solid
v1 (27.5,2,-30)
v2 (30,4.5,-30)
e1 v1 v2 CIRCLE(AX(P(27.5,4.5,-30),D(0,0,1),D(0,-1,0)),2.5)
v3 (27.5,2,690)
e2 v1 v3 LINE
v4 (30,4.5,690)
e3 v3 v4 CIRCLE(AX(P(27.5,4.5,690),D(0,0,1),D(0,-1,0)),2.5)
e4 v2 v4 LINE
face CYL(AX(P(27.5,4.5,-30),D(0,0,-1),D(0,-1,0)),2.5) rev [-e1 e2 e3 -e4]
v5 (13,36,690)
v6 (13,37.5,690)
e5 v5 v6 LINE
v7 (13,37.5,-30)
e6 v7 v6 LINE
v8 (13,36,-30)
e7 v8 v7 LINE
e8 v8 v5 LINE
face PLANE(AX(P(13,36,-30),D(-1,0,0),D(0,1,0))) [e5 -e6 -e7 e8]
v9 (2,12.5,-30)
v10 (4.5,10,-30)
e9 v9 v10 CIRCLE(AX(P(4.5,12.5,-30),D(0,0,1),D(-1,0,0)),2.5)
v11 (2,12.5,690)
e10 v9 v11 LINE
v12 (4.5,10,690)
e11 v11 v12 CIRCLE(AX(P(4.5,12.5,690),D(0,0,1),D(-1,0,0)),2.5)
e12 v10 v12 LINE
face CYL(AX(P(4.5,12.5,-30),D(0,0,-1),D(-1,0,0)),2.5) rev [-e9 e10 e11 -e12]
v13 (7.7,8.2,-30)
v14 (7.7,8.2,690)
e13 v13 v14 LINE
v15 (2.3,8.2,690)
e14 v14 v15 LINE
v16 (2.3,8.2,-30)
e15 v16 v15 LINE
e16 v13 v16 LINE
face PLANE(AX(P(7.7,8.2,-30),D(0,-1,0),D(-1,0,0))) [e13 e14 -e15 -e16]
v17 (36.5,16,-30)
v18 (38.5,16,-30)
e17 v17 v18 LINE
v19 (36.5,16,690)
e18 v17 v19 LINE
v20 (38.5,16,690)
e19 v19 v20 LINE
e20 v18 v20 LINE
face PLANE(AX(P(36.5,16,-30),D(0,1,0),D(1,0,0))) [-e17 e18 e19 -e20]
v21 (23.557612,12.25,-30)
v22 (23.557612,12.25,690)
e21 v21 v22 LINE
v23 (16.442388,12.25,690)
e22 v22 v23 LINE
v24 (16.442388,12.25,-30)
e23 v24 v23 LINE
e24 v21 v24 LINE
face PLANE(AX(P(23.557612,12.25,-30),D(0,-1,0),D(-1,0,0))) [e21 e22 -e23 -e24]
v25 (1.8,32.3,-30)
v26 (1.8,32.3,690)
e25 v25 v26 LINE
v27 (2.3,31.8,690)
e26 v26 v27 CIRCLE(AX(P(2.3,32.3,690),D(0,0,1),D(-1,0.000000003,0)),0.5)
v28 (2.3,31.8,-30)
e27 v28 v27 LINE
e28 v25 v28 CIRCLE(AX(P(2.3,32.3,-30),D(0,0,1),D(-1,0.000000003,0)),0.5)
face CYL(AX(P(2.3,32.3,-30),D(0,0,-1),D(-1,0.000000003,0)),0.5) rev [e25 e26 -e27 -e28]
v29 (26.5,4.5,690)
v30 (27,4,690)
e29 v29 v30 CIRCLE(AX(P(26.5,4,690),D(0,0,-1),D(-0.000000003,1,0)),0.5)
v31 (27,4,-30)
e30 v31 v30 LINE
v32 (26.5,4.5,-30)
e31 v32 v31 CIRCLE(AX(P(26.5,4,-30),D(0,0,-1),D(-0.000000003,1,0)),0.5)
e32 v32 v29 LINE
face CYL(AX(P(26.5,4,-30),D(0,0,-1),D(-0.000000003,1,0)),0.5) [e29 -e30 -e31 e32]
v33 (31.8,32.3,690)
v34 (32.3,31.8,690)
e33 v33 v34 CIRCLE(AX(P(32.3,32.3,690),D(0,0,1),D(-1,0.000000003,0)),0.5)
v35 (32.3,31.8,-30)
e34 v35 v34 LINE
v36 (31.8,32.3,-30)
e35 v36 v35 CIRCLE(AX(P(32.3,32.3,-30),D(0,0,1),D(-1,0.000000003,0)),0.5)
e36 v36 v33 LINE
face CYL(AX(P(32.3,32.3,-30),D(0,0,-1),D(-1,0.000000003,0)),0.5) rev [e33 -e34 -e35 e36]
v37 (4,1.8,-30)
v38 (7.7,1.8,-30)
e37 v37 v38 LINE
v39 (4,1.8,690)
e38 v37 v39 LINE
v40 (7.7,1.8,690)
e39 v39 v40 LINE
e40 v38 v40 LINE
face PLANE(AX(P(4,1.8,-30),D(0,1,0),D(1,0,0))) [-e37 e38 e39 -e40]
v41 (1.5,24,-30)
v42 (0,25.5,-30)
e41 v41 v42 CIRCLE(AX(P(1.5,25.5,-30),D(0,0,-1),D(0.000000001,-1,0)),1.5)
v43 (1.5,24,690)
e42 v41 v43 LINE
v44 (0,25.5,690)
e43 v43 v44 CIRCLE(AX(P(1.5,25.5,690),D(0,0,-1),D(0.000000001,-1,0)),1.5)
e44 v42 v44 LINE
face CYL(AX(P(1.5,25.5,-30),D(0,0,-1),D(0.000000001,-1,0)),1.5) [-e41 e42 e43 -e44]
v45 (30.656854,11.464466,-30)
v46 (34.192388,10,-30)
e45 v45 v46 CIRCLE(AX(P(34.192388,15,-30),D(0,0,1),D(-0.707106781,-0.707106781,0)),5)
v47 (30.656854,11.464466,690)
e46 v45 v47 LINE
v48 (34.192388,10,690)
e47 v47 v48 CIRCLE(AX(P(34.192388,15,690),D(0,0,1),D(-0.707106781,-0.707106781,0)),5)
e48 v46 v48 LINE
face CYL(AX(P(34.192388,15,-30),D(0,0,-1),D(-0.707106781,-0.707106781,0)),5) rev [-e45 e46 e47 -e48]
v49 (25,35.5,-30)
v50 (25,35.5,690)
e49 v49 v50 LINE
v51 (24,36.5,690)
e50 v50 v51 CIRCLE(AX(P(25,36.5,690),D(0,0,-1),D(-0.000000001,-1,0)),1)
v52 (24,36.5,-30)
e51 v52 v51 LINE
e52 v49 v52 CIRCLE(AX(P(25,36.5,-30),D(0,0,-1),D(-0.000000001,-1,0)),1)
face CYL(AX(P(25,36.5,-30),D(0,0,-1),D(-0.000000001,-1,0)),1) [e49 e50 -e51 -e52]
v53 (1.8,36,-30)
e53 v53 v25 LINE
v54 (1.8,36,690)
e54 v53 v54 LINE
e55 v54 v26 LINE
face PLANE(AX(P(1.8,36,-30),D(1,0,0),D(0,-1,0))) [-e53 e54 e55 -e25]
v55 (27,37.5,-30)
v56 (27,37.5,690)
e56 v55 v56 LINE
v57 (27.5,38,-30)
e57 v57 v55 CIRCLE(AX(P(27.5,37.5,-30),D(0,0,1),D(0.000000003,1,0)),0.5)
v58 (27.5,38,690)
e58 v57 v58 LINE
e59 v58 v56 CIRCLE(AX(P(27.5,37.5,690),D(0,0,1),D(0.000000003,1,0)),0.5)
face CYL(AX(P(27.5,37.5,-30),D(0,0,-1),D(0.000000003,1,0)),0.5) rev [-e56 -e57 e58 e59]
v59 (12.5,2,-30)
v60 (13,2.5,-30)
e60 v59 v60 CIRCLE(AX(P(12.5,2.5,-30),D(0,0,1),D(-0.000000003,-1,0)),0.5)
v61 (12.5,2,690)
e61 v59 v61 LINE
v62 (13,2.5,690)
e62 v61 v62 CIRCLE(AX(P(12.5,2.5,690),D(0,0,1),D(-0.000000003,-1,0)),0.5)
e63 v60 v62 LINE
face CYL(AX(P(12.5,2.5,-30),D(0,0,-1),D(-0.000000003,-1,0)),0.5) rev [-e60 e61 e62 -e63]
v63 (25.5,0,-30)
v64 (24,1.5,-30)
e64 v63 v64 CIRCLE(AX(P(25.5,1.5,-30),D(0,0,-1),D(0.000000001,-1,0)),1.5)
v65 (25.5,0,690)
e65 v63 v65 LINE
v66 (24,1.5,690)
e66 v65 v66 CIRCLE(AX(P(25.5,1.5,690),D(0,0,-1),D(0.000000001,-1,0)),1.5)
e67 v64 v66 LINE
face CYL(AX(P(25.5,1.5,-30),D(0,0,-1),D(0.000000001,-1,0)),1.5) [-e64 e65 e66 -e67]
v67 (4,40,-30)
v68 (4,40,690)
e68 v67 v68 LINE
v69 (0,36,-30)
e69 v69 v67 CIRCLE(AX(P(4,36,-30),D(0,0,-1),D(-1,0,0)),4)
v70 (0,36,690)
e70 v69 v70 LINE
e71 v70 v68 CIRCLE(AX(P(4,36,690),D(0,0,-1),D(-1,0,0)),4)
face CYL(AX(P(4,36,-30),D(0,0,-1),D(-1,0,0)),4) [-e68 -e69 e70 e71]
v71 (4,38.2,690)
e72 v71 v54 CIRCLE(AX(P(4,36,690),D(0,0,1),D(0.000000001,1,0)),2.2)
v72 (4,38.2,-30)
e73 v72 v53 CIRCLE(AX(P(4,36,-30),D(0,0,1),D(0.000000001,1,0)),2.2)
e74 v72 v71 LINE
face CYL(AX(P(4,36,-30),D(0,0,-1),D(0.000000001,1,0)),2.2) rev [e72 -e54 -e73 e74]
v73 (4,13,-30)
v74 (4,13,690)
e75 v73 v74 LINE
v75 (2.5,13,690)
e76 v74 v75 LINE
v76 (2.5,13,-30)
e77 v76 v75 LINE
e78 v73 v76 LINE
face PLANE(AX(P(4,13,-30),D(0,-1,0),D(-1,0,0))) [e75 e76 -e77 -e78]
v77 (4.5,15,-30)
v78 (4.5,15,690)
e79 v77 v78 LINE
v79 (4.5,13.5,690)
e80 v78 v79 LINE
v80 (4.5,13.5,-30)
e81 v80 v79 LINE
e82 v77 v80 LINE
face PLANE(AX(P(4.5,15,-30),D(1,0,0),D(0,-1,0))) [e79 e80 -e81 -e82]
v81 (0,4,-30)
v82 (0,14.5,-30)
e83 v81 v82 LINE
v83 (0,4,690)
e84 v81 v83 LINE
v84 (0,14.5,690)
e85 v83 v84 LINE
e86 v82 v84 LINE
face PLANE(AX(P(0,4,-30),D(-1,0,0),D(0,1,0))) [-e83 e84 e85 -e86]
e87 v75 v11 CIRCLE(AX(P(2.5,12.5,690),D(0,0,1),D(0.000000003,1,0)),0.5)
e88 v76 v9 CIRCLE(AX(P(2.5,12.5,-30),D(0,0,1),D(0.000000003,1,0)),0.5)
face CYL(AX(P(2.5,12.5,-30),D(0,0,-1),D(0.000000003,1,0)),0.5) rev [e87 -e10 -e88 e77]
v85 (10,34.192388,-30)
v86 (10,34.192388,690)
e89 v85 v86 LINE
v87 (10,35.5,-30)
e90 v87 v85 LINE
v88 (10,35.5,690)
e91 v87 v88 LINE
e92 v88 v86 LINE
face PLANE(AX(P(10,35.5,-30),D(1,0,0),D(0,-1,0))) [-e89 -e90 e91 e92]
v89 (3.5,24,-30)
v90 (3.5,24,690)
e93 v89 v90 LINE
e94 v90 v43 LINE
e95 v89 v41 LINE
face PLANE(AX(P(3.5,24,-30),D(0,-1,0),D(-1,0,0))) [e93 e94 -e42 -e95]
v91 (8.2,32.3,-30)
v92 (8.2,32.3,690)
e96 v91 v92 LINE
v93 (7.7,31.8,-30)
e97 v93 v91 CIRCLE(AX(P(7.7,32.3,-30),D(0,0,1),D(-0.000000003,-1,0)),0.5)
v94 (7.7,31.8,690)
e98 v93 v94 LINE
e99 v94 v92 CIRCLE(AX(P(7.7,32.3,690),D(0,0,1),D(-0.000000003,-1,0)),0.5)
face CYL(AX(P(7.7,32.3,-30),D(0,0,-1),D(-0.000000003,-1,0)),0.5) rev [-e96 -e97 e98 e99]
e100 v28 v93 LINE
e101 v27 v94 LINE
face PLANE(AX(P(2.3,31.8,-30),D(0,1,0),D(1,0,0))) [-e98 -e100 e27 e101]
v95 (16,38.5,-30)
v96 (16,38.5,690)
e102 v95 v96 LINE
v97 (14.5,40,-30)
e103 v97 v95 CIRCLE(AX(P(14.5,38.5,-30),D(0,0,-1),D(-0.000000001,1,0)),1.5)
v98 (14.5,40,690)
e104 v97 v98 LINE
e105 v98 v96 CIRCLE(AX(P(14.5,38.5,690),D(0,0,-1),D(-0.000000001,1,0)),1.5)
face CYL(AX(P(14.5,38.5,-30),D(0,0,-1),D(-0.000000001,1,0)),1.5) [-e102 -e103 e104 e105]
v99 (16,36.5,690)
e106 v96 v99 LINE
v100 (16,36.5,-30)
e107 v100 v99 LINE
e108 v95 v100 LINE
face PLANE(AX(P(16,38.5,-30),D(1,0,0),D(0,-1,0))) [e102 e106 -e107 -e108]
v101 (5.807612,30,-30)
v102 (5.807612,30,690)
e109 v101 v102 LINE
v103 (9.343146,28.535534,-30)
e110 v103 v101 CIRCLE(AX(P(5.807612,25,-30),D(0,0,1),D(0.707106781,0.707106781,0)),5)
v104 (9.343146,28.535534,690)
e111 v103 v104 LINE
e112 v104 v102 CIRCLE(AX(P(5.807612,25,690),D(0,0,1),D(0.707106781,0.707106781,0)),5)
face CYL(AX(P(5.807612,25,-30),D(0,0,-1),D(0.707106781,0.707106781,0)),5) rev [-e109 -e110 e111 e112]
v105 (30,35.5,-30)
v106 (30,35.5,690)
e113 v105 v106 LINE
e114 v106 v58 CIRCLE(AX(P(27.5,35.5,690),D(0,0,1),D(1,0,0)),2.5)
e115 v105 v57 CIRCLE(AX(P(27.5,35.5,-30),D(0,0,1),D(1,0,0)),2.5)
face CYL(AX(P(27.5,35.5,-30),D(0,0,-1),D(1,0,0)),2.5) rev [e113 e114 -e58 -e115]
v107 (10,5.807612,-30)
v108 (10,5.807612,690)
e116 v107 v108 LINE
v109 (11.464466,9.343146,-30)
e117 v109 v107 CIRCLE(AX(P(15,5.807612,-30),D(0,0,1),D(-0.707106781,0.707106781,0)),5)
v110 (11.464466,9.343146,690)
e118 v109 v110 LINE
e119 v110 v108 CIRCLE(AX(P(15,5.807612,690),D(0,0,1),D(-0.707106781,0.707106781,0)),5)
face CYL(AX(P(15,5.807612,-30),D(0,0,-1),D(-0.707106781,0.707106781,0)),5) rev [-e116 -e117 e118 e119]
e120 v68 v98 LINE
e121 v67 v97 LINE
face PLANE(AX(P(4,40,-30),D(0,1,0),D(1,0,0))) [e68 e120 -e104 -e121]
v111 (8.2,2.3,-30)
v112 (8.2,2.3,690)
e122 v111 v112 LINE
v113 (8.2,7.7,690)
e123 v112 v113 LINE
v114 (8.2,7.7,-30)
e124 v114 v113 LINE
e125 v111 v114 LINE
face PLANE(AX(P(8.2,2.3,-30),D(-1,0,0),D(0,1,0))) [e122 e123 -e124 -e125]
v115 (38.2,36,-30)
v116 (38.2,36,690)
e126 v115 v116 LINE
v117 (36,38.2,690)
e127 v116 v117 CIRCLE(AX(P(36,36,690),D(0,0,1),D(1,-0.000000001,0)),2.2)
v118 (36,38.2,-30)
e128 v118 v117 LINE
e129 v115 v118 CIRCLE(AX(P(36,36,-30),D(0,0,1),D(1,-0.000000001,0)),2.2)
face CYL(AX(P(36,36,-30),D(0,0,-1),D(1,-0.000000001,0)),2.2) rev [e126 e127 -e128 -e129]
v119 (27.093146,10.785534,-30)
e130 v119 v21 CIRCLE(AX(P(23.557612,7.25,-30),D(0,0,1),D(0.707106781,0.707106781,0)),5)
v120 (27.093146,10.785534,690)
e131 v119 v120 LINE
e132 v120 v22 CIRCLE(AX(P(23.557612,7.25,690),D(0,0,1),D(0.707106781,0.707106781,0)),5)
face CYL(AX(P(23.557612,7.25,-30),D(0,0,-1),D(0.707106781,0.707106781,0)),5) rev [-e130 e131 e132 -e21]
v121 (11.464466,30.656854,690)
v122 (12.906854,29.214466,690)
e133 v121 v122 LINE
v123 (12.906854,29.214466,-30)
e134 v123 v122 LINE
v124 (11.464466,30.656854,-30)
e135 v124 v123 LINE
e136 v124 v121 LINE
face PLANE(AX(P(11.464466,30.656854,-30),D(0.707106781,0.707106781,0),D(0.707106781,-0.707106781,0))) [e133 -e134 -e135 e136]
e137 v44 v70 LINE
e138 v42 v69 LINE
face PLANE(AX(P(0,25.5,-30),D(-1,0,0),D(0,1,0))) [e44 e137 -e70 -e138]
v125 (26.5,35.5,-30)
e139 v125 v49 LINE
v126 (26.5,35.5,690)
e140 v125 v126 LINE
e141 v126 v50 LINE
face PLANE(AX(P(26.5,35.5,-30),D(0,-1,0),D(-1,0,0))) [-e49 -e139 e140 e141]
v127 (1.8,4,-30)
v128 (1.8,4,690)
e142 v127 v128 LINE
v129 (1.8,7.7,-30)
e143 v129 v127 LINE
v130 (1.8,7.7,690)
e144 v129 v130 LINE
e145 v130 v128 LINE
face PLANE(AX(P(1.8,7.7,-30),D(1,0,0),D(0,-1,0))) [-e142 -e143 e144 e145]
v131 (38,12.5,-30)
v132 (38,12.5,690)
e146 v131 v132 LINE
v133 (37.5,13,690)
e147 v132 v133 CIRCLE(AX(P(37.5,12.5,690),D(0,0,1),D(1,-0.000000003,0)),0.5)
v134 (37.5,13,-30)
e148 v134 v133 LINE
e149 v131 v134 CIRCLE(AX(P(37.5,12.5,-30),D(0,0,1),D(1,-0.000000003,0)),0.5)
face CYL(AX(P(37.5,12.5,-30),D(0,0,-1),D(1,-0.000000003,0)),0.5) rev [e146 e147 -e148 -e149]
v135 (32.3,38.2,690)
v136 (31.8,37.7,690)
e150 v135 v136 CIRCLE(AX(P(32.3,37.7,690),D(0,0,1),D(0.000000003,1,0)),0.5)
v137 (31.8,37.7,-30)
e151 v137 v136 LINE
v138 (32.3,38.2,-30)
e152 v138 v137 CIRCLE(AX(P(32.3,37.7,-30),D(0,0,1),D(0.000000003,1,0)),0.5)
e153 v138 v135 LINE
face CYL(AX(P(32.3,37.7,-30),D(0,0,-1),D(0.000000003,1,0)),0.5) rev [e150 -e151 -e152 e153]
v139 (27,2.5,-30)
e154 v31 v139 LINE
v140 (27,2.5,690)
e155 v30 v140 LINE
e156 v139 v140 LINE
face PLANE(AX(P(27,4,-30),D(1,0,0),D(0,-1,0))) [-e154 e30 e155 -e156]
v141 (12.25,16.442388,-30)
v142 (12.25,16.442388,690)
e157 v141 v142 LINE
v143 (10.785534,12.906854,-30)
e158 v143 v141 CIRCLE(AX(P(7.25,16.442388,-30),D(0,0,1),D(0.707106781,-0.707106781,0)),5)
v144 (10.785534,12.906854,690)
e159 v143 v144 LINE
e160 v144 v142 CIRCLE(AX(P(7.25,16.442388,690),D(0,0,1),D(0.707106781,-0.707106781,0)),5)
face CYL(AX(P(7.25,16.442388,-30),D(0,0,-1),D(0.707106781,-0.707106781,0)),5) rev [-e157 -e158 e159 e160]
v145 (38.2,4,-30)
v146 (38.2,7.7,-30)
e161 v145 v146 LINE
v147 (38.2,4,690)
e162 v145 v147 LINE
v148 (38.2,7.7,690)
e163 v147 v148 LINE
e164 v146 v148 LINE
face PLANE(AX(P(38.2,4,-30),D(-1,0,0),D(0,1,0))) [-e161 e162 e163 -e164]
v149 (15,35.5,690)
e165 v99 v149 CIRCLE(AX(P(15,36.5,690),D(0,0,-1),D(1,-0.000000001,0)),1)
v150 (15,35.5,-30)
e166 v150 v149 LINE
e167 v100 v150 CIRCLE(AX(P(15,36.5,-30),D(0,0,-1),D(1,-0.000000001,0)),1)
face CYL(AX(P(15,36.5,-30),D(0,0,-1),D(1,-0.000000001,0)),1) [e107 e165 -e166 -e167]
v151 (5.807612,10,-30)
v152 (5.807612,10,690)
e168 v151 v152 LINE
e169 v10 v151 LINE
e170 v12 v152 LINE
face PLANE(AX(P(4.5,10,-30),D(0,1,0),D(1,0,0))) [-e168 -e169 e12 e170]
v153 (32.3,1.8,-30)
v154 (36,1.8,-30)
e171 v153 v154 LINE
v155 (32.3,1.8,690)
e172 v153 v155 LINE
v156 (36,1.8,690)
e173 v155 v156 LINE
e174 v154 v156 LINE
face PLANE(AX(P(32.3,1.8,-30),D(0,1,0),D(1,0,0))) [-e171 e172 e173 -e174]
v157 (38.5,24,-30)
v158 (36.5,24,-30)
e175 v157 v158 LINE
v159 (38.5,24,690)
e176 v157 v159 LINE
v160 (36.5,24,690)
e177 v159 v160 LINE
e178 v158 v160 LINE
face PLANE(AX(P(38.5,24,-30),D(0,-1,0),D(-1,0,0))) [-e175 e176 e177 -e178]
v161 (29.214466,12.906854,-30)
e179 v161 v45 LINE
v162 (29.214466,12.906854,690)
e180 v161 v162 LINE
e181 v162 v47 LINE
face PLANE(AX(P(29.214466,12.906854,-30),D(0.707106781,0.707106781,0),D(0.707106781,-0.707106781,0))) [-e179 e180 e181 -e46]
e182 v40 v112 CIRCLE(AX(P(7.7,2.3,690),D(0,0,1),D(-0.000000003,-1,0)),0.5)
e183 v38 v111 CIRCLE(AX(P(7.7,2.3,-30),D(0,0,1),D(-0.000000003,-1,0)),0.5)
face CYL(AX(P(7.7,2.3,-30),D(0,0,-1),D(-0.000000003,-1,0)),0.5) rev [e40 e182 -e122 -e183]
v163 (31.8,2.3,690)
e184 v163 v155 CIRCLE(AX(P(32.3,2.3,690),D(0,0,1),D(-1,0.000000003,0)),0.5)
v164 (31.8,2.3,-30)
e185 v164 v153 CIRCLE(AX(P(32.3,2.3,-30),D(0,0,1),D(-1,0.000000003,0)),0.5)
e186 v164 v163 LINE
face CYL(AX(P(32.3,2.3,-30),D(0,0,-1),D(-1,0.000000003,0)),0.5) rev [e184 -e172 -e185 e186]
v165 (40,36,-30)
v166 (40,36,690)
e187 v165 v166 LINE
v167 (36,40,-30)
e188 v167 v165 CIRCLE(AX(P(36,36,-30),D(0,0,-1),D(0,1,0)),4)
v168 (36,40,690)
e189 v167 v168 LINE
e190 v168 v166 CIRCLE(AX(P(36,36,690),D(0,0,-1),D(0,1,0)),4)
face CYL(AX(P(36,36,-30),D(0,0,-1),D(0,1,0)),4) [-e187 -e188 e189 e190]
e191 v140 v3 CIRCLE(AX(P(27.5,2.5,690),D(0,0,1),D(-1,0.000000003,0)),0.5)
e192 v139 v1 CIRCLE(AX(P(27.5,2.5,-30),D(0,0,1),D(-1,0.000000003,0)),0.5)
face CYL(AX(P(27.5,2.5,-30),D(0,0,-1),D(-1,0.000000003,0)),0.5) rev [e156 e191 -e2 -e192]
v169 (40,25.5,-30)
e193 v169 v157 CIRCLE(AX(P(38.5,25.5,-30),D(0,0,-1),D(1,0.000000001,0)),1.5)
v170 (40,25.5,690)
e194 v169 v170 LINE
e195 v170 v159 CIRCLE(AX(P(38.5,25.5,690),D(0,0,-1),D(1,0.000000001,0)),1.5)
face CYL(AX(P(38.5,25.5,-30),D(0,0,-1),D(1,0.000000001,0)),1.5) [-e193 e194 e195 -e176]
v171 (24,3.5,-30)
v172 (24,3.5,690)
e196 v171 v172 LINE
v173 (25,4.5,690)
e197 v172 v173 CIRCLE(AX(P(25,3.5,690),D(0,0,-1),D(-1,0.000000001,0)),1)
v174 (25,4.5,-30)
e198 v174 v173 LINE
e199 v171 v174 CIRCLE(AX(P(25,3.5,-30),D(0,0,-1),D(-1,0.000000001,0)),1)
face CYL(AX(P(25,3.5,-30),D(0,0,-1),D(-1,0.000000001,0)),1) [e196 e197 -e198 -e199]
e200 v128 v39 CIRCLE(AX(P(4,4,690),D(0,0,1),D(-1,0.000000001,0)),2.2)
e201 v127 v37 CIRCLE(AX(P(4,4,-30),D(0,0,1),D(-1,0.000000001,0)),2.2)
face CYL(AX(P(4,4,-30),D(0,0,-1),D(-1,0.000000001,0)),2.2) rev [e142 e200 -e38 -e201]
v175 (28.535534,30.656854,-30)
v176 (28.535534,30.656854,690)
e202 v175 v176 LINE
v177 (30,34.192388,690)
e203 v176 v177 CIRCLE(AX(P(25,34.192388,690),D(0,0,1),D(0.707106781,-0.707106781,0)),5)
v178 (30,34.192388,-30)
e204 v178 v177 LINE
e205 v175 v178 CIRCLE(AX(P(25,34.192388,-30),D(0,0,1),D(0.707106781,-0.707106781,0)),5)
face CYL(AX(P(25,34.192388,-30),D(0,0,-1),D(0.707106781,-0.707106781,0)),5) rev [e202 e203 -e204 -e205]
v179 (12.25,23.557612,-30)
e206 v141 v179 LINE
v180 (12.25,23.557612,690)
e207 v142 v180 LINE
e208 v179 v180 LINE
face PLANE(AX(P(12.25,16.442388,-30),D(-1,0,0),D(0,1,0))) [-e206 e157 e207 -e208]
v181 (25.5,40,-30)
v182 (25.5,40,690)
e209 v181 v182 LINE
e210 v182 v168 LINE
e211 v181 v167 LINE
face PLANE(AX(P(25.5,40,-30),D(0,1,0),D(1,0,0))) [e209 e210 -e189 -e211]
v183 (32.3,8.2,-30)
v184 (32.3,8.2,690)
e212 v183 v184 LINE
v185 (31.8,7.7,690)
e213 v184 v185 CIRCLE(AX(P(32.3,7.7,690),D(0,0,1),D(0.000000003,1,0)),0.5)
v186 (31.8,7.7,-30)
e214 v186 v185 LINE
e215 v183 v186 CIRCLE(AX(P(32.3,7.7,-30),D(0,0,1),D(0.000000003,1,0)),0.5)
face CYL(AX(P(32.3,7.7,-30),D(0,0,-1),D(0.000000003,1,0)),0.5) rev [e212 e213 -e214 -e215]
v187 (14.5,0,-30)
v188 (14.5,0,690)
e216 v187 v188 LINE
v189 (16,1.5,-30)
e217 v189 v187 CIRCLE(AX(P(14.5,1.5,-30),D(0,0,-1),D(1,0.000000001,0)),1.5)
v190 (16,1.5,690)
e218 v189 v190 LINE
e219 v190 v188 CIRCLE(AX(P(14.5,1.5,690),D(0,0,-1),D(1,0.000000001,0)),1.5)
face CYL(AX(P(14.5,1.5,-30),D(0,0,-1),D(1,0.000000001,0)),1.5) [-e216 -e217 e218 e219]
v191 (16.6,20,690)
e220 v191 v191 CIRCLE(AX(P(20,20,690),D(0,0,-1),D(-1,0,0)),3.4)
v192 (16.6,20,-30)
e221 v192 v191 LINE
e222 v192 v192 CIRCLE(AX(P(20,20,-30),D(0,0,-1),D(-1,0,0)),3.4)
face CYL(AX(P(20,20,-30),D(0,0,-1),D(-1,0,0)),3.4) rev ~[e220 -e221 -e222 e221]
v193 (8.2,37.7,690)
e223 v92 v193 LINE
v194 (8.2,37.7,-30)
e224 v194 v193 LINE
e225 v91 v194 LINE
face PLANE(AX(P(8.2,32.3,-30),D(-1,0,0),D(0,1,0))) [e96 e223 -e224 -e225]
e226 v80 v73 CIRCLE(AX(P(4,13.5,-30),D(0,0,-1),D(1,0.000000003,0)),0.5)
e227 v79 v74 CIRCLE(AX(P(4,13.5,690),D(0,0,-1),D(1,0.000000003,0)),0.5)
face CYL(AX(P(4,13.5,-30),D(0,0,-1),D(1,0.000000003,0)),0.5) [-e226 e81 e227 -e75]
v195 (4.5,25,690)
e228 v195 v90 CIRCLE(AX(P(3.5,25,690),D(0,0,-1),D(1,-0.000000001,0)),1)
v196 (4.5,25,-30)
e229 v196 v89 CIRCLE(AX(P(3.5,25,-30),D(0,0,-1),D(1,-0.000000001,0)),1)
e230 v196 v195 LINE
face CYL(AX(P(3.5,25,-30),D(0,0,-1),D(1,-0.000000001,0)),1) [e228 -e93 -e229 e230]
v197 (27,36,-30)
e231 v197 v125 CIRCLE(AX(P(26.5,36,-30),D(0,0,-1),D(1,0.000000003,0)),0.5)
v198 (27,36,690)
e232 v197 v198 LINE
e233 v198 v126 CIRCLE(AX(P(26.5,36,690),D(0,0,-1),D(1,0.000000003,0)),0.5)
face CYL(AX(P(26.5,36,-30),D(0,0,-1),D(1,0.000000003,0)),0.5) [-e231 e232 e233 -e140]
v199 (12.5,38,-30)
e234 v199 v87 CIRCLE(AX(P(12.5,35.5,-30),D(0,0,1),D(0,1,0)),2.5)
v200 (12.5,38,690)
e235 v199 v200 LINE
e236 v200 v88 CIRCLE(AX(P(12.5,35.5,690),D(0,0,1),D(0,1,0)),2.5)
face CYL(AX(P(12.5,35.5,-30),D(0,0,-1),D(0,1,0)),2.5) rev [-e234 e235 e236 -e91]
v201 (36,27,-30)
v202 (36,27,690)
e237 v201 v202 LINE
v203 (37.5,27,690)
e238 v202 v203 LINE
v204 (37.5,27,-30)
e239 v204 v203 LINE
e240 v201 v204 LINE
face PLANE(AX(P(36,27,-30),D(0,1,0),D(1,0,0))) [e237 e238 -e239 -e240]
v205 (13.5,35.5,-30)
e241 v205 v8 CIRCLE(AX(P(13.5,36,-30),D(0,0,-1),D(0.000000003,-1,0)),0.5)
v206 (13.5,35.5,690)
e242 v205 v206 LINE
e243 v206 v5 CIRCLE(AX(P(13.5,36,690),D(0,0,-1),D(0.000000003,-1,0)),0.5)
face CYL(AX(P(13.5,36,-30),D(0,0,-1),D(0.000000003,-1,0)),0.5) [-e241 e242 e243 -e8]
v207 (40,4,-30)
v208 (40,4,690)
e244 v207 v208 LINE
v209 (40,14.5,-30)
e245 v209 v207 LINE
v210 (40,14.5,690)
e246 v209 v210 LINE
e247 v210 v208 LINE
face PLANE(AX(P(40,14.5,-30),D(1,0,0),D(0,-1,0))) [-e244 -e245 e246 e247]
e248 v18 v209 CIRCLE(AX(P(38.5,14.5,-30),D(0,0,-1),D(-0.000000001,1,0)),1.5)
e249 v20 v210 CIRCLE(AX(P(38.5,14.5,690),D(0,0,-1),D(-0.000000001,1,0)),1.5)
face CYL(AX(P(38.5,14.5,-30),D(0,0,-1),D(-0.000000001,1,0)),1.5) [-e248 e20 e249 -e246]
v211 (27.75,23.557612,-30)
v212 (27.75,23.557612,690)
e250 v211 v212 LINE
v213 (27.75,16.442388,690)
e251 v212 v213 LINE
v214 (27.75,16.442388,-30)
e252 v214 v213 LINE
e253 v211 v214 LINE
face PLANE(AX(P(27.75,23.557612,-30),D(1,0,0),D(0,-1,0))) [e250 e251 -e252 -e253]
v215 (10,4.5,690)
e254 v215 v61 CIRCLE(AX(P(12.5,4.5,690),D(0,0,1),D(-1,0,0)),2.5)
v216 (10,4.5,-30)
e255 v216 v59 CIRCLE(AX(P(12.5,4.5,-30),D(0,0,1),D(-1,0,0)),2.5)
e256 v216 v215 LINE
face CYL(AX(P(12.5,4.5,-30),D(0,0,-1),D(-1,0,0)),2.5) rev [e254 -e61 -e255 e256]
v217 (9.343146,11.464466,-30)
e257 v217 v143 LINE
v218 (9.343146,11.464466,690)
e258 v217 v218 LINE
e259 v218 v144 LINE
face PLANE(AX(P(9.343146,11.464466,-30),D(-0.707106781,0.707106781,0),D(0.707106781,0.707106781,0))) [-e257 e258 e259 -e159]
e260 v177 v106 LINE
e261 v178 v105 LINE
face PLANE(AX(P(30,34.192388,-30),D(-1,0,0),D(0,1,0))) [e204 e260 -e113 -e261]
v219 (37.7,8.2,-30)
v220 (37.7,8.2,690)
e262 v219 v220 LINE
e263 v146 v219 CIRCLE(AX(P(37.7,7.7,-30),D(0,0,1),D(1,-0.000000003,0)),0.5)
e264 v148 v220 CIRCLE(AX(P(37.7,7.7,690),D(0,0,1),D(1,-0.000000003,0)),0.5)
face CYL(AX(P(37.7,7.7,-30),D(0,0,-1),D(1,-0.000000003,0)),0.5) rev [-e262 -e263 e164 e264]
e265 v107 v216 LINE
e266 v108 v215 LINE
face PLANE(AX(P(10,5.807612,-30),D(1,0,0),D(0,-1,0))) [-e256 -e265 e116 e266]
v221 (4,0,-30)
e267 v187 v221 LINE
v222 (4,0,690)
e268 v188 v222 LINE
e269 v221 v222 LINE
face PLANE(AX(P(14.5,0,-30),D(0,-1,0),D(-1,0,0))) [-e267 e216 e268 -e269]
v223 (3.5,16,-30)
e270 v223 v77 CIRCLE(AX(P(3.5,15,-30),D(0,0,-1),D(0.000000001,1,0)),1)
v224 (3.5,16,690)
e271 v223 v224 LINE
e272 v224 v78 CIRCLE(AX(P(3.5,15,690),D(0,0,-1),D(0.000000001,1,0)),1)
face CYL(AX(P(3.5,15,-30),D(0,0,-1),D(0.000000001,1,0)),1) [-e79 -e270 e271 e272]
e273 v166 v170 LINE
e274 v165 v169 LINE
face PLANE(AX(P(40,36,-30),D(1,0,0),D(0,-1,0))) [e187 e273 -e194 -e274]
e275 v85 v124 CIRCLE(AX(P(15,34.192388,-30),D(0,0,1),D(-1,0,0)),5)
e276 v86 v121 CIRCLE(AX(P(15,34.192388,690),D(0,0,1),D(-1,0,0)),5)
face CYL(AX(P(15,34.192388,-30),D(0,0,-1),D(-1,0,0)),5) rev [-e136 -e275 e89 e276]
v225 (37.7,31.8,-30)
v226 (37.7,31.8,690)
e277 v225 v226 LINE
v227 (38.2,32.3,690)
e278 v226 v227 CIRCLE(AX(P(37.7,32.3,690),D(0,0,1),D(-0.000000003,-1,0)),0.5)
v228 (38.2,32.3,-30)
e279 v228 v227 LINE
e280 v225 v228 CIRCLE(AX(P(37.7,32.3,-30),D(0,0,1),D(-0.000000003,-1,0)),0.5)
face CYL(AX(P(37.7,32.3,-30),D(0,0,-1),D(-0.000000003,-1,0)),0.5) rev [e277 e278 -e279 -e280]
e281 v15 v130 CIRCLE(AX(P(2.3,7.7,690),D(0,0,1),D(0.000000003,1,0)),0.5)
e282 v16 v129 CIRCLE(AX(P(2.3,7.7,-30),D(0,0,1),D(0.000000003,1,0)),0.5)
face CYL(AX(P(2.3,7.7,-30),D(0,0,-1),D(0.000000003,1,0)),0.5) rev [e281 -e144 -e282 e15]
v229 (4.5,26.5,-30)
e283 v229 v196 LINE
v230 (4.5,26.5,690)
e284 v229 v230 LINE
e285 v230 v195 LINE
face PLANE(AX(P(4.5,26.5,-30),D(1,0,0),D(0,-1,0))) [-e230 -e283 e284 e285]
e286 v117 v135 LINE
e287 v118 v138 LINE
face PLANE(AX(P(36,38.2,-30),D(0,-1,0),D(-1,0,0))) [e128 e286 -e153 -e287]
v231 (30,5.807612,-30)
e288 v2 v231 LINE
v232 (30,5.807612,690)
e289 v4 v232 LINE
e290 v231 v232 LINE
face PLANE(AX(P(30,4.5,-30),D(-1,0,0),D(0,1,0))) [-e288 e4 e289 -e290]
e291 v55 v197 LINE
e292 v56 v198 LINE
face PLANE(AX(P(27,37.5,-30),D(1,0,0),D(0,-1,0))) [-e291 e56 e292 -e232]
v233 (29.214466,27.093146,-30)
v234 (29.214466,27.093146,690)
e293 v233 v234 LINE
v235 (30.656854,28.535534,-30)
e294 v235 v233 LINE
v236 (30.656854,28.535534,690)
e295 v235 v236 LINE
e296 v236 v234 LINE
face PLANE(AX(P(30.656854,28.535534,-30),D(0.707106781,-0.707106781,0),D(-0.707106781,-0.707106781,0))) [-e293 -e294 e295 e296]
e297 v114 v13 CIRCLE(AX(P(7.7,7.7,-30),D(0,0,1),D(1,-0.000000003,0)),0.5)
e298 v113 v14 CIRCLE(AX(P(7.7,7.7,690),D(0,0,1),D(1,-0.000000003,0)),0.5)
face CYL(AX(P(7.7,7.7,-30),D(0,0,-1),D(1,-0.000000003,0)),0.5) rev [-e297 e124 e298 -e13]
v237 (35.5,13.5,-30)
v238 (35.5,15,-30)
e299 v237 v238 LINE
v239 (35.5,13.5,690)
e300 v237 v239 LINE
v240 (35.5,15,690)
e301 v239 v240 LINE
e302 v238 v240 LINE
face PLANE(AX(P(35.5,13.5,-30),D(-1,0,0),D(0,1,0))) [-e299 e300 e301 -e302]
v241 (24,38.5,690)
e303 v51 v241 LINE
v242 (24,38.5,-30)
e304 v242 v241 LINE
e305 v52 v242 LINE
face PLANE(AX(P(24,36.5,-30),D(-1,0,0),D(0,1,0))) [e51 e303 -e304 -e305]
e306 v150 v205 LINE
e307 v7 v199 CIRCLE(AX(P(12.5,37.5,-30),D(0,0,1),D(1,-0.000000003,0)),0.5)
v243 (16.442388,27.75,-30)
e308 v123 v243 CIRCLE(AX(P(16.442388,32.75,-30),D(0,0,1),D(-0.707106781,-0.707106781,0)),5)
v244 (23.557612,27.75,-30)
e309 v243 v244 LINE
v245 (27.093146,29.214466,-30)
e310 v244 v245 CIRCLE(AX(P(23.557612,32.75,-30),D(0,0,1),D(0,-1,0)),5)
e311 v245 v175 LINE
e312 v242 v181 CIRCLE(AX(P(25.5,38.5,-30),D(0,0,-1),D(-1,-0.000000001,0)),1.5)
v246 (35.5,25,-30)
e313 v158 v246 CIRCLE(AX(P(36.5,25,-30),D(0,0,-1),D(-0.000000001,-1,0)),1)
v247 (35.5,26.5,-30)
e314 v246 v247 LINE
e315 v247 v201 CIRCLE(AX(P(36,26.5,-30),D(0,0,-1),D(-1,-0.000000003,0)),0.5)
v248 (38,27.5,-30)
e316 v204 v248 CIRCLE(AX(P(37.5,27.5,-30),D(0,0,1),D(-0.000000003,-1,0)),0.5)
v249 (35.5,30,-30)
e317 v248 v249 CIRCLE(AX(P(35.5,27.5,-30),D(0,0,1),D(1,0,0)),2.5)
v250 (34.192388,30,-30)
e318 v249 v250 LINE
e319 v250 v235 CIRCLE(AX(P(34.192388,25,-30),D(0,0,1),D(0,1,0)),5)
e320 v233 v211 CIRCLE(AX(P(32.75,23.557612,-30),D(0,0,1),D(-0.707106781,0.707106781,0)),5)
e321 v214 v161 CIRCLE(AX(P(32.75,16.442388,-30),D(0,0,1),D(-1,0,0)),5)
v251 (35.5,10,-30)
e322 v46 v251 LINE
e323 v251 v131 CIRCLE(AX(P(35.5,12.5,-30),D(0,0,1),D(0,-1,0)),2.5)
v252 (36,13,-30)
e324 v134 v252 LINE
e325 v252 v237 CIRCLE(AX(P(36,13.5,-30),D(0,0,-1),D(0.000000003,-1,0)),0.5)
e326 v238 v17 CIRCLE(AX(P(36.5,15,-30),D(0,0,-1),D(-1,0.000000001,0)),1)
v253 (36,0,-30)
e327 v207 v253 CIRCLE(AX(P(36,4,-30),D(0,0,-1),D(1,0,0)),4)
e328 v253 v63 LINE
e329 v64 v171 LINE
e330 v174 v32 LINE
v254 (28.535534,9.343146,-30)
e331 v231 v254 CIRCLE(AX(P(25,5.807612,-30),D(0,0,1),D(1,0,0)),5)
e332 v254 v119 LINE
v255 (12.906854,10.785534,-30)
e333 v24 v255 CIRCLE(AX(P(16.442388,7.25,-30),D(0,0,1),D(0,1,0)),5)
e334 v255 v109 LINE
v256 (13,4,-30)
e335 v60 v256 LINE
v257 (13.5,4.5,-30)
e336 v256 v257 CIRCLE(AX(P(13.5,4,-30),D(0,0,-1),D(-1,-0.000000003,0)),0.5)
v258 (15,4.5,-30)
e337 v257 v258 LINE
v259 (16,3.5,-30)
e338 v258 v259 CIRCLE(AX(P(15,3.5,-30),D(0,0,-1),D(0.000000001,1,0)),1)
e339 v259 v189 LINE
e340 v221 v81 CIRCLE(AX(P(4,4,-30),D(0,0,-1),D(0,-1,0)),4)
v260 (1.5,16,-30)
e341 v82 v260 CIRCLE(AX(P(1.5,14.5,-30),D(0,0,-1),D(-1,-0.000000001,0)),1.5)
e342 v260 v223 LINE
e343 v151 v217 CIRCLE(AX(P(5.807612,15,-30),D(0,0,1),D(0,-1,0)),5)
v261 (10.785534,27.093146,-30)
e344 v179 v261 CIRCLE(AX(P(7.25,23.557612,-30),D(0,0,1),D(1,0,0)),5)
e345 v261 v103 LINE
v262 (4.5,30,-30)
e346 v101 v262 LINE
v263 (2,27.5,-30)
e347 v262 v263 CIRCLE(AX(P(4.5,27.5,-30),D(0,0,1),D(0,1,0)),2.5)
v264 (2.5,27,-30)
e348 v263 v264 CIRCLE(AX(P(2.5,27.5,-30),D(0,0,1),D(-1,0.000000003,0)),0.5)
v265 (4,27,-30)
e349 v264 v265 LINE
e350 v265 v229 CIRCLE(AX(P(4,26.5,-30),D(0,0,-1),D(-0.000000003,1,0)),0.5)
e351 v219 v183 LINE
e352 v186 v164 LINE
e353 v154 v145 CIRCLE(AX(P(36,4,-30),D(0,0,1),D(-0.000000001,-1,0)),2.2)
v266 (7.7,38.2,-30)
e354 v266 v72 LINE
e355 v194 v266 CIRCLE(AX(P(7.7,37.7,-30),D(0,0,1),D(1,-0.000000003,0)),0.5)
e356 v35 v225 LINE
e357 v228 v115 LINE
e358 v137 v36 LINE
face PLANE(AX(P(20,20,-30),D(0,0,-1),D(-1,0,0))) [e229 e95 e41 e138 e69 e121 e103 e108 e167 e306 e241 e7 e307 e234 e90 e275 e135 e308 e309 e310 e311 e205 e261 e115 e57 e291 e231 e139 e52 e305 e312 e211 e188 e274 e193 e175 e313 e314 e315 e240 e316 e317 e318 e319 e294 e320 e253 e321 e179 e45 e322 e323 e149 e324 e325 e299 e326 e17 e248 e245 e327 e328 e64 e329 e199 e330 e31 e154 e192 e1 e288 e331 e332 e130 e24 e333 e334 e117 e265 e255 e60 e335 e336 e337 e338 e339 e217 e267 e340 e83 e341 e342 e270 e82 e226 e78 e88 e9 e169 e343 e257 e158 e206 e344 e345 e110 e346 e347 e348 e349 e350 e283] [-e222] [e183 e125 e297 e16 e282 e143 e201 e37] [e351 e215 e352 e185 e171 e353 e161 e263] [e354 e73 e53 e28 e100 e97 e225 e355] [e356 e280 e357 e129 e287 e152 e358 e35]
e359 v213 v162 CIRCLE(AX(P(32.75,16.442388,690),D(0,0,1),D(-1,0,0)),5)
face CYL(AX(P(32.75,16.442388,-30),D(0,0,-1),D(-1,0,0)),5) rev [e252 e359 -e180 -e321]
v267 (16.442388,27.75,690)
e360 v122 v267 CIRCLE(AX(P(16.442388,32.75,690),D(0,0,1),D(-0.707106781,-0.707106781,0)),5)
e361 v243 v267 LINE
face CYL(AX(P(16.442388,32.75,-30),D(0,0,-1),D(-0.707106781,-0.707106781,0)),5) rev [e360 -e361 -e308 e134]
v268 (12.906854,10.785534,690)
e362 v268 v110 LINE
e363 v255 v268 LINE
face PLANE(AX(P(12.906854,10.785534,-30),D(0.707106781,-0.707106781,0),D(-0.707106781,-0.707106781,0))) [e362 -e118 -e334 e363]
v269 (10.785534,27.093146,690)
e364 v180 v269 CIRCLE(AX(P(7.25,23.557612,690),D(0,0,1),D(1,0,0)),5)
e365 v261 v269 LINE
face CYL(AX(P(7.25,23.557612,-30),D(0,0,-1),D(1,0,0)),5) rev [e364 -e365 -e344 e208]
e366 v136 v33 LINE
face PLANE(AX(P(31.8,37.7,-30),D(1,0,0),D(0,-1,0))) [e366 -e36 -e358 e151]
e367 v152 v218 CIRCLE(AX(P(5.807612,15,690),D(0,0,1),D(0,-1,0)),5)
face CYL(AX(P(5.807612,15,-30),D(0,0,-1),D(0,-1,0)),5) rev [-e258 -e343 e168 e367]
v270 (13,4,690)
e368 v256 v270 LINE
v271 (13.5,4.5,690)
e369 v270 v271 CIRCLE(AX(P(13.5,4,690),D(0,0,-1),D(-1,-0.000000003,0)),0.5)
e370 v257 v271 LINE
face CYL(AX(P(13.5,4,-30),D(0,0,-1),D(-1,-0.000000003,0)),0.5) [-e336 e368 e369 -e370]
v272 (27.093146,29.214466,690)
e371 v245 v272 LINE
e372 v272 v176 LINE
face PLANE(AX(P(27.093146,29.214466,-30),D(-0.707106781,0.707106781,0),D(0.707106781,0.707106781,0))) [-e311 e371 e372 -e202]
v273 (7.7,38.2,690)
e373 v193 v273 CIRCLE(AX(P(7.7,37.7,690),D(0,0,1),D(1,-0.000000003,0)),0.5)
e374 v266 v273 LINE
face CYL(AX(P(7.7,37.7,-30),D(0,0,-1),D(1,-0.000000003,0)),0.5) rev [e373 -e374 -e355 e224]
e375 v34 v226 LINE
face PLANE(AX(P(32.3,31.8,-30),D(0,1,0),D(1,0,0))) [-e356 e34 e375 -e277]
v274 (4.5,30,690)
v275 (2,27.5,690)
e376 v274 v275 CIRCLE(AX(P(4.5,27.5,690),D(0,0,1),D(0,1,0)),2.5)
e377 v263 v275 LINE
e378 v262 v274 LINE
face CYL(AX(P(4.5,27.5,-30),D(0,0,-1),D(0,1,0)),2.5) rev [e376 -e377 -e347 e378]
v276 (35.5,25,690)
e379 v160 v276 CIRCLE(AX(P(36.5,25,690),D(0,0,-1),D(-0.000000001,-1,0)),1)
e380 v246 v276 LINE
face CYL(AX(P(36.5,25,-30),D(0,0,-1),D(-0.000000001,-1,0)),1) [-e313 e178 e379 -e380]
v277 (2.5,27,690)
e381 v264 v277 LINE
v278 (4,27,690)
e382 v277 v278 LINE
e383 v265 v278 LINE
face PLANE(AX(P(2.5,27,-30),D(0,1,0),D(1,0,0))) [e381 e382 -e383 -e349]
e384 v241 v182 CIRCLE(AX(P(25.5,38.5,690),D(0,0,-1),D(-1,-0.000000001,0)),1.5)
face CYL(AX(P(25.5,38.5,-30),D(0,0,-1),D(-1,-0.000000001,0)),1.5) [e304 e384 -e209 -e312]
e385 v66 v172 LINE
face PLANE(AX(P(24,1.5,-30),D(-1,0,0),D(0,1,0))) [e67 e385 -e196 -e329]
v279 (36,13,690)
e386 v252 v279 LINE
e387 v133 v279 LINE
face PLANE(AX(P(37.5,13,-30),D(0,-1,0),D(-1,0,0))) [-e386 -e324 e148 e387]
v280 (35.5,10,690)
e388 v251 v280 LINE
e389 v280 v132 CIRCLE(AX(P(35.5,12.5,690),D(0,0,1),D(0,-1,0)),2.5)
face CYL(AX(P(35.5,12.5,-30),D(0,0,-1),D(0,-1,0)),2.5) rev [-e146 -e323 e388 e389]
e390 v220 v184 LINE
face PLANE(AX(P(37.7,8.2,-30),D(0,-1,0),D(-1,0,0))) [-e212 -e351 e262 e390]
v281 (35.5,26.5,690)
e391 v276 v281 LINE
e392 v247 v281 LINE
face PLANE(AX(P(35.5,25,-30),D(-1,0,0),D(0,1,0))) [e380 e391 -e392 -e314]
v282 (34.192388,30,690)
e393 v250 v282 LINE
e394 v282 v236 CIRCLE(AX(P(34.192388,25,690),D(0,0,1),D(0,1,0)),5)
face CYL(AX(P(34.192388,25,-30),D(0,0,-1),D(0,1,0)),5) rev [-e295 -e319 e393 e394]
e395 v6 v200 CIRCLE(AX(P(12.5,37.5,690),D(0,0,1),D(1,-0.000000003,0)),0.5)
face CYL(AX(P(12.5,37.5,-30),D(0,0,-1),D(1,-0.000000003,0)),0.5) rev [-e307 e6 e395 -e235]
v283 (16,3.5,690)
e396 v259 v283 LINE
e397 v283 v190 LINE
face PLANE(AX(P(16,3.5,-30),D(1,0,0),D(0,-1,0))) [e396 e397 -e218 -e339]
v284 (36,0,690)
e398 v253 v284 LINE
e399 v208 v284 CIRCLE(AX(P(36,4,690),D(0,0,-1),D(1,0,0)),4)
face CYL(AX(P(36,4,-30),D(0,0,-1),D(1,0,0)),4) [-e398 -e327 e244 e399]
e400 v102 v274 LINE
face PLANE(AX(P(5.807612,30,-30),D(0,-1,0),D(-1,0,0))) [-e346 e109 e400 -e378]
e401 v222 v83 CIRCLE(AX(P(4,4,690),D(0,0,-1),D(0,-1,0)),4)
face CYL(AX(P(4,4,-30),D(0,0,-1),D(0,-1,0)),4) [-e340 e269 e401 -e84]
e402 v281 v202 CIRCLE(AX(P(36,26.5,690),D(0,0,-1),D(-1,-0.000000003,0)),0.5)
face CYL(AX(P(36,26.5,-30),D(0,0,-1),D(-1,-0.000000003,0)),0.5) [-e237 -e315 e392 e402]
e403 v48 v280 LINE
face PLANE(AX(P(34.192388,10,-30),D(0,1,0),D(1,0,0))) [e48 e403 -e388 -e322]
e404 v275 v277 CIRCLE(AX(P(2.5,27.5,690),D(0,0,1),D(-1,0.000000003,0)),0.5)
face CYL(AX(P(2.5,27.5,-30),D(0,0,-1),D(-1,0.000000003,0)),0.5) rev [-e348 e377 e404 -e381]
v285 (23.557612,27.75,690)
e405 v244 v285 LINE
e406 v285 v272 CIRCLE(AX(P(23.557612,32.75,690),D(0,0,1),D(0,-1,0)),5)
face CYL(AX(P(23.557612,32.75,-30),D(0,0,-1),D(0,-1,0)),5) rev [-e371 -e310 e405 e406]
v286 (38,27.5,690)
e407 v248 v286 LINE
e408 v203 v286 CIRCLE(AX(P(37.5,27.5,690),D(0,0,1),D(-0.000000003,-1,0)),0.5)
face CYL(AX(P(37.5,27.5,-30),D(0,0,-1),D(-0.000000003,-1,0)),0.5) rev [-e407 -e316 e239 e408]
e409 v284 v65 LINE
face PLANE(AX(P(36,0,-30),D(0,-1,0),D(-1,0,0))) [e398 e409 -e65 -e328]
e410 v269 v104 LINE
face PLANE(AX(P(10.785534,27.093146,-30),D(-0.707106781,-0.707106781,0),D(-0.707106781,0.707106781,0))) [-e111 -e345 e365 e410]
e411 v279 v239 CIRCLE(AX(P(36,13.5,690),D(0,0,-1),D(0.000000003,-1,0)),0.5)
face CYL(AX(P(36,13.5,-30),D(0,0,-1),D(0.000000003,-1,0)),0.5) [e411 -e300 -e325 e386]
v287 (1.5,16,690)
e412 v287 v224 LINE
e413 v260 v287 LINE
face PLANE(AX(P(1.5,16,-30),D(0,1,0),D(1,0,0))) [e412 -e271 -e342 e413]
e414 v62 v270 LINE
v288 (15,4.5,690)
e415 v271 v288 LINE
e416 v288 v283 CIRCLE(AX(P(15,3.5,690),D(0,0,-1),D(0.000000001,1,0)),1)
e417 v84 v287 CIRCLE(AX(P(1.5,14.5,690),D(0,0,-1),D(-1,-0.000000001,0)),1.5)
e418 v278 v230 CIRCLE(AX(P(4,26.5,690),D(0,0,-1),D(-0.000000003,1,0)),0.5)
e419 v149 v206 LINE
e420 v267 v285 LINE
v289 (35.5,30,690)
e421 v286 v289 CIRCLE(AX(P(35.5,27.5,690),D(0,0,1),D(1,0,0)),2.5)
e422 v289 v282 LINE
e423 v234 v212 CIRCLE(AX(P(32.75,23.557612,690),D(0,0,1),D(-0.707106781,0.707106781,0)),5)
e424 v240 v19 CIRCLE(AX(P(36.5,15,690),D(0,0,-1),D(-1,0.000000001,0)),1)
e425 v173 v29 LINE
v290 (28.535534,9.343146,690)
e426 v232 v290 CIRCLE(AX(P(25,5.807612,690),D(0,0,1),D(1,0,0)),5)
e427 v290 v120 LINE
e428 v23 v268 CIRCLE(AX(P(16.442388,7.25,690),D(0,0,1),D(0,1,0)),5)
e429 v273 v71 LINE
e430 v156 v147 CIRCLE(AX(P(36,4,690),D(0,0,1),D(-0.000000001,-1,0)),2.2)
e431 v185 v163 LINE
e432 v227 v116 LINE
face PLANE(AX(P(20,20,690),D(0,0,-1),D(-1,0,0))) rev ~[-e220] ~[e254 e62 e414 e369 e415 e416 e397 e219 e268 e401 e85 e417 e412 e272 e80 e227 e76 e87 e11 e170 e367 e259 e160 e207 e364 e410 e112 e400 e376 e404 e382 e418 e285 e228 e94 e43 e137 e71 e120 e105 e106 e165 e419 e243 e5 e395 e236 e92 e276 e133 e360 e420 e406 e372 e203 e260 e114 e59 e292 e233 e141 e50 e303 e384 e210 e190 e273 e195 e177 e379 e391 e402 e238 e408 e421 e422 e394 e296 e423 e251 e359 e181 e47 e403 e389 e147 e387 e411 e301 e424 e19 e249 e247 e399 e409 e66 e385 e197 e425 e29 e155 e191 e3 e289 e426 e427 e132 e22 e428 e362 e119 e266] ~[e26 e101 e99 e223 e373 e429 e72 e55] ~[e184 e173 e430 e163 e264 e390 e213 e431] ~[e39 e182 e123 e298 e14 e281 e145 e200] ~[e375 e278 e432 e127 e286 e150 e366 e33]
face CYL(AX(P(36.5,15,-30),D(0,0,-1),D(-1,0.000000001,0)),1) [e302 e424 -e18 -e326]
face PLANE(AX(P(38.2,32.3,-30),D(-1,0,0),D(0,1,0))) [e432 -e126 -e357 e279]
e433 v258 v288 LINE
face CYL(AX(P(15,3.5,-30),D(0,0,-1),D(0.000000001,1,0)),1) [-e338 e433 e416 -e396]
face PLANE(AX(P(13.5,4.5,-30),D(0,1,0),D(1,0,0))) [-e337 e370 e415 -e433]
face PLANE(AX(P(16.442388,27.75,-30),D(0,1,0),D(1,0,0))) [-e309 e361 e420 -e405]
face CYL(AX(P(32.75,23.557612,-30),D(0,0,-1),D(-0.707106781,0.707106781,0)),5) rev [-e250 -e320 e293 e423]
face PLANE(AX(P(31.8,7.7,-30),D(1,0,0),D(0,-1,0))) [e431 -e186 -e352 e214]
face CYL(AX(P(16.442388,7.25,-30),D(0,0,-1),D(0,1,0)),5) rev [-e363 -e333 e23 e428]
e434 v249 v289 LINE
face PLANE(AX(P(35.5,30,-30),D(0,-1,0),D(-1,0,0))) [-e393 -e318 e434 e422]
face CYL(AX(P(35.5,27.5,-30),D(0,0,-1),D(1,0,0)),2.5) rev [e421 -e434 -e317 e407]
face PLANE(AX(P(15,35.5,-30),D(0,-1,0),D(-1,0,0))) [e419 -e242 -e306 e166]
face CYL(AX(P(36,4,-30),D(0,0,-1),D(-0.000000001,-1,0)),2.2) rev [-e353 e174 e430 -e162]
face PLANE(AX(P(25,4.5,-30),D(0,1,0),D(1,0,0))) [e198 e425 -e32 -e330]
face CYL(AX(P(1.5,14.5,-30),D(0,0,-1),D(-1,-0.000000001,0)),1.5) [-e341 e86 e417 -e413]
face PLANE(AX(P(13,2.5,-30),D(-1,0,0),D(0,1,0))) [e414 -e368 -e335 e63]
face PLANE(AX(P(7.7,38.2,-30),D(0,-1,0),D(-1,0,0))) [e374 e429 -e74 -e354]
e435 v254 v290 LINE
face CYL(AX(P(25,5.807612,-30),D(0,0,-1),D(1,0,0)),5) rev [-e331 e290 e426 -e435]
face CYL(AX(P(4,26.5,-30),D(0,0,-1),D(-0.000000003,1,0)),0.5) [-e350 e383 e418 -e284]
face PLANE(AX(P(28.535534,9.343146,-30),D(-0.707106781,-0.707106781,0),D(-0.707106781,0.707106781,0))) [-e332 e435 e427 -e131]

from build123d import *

# Parameters (mm, degrees)
ESQUISSE1_R        = 3.4
BOSS_EXTRU_1_DEPTH = 720


with BuildPart() as part:
    # Esquisse1 → Boss.-Extru.1 (new body)
    with BuildSketch(Plane(origin=(0, 0, -30), x_dir=(-1, 0, 0), z_dir=(0, 0, -1))):
        with BuildLine():
            Line((-4.5, 15), (-4.5, 13.5))
            ThreePointArc((-4.5, 13.5), (-4.353553391, 13.146446609), (-4, 13))
            Line((-4, 13), (-2.5, 13))
            ThreePointArc((-2.5, 13), (-2.146446609, 12.853553391), (-2, 12.5))
            ThreePointArc((-2, 12.5), (-2.732233047, 10.732233047), (-4.5, 10))
            Line((-4.5, 10), (-5.807611845, 10))
            ThreePointArc((-5.807611845, 10), (-7.721029006, 10.380602337), (-9.343145751, 11.464466094))
            Line((-9.343145751, 11.464466094), (-10.785533906, 12.906854249))
            ThreePointArc((-10.785533906, 12.906854249), (-11.869397663, 14.528970994), (-12.25, 16.442388155))
            Line((-12.25, 16.442388155), (-12.25, 23.557611845))
            ThreePointArc((-12.25, 23.557611845), (-11.869397663, 25.471029006), (-10.785533906, 27.093145751))
            Line((-10.785533906, 27.093145751), (-9.343145751, 28.535533906))
            ThreePointArc((-9.343145751, 28.535533906), (-7.721029006, 29.619397663), (-5.807611845, 30))
            Line((-5.807611845, 30), (-4.5, 30))
            ThreePointArc((-4.5, 30), (-2.732233047, 29.267766953), (-2, 27.5))
            ThreePointArc((-2, 27.5), (-2.146446609, 27.146446609), (-2.5, 27))
            Line((-2.5, 27), (-4, 27))
            ThreePointArc((-4, 27), (-4.353553391, 26.853553391), (-4.5, 26.5))
            Line((-4.5, 26.5), (-4.5, 25))
            ThreePointArc((-4.5, 25), (-4.207106781, 24.292893219), (-3.5, 24))
            Line((-3.5, 24), (-1.5, 24))
            ThreePointArc((-1.5, 24), (-0.439339828, 24.439339828), (0, 25.5))
            Line((0, 25.5), (0, 36))
            ThreePointArc((0, 36), (-1.171572875, 38.828427125), (-4, 40))
            Line((-4, 40), (-14.5, 40))
            ThreePointArc((-14.5, 40), (-15.560660172, 39.560660172), (-16, 38.5))
            Line((-16, 38.5), (-16, 36.5))
            ThreePointArc((-16, 36.5), (-15.707106781, 35.792893219), (-15, 35.5))
            Line((-15, 35.5), (-13.5, 35.5))
            ThreePointArc((-13.5, 35.5), (-13.146446609, 35.646446609), (-13, 36))
            Line((-13, 36), (-13, 37.5))
            ThreePointArc((-13, 37.5), (-12.853553391, 37.853553391), (-12.5, 38))
            ThreePointArc((-12.5, 38), (-10.732233047, 37.267766953), (-10, 35.5))
            Line((-10, 35.5), (-10, 34.192388155))
            ThreePointArc((-10, 34.192388155), (-10.380602337, 32.278970994), (-11.464466094, 30.656854249))
            Line((-11.464466094, 30.656854249), (-12.906854249, 29.214466094))
            ThreePointArc((-12.906854249, 29.214466094), (-14.528970994, 28.130602337), (-16.442388155, 27.75))
            Line((-16.442388155, 27.75), (-23.557611845, 27.75))
            ThreePointArc((-23.557611845, 27.75), (-25.471029006, 28.130602337), (-27.093145751, 29.214466094))
            Line((-27.093145751, 29.214466094), (-28.535533906, 30.656854249))
            ThreePointArc((-28.535533906, 30.656854249), (-29.619397663, 32.278970994), (-30, 34.192388155))
            Line((-30, 34.192388155), (-30, 35.5))
            ThreePointArc((-30, 35.5), (-29.267766953, 37.267766953), (-27.5, 38))
            ThreePointArc((-27.5, 38), (-27.146446609, 37.853553391), (-27, 37.5))
            Line((-27, 37.5), (-27, 36))
            ThreePointArc((-27, 36), (-26.853553391, 35.646446609), (-26.5, 35.5))
            Line((-26.5, 35.5), (-25, 35.5))
            ThreePointArc((-25, 35.5), (-24.292893219, 35.792893219), (-24, 36.5))
            Line((-24, 36.5), (-24, 38.5))
            ThreePointArc((-24, 38.5), (-24.439339828, 39.560660172), (-25.5, 40))
            Line((-25.5, 40), (-36, 40))
            ThreePointArc((-36, 40), (-38.828427125, 38.828427125), (-40, 36))
            Line((-40, 36), (-40, 25.5))
            ThreePointArc((-40, 25.5), (-39.560660172, 24.439339828), (-38.5, 24))
            Line((-38.5, 24), (-36.5, 24))
            ThreePointArc((-36.5, 24), (-35.792893219, 24.292893219), (-35.5, 25))
            Line((-35.5, 25), (-35.5, 26.5))
            ThreePointArc((-35.5, 26.5), (-35.646446609, 26.853553391), (-36, 27))
            Line((-36, 27), (-37.5, 27))
            ThreePointArc((-37.5, 27), (-37.853553391, 27.146446609), (-38, 27.5))
            ThreePointArc((-38, 27.5), (-37.267766953, 29.267766953), (-35.5, 30))
            Line((-35.5, 30), (-34.192388155, 30))
            ThreePointArc((-34.192388155, 30), (-32.278970994, 29.619397663), (-30.656854249, 28.535533906))
            Line((-30.656854249, 28.535533906), (-29.214466094, 27.093145751))
            ThreePointArc((-29.214466094, 27.093145751), (-28.130602337, 25.471029006), (-27.75, 23.557611845))
            Line((-27.75, 23.557611845), (-27.75, 16.442388155))
            ThreePointArc((-27.75, 16.442388155), (-28.130602337, 14.528970994), (-29.214466094, 12.906854249))
            Line((-29.214466094, 12.906854249), (-30.656854249, 11.464466094))
            ThreePointArc((-30.656854249, 11.464466094), (-32.278970994, 10.380602337), (-34.192388155, 10))
            Line((-34.192388155, 10), (-35.5, 10))
            ThreePointArc((-35.5, 10), (-37.267766953, 10.732233047), (-38, 12.5))
            ThreePointArc((-38, 12.5), (-37.853553391, 12.853553391), (-37.5, 13))
            Line((-37.5, 13), (-36, 13))
            ThreePointArc((-36, 13), (-35.646446609, 13.146446609), (-35.5, 13.5))
            Line((-35.5, 13.5), (-35.5, 15))
            ThreePointArc((-35.5, 15), (-35.792893219, 15.707106781), (-36.5, 16))
            Line((-36.5, 16), (-38.5, 16))
            ThreePointArc((-38.5, 16), (-39.560660172, 15.560660172), (-40, 14.5))
            Line((-40, 14.5), (-40, 4))
            ThreePointArc((-40, 4), (-38.828427125, 1.171572875), (-36, 0))
            Line((-36, 0), (-25.5, 0))
            ThreePointArc((-25.5, 0), (-24.439339828, 0.439339828), (-24, 1.5))
            Line((-24, 1.5), (-24, 3.5))
            ThreePointArc((-24, 3.5), (-24.292893219, 4.207106781), (-25, 4.5))
            Line((-25, 4.5), (-26.5, 4.5))
            ThreePointArc((-26.5, 4.5), (-26.853553391, 4.353553391), (-27, 4))
            Line((-27, 4), (-27, 2.5))
            ThreePointArc((-27, 2.5), (-27.146446609, 2.146446609), (-27.5, 2))
            ThreePointArc((-27.5, 2), (-29.267766953, 2.732233047), (-30, 4.5))
            Line((-30, 4.5), (-30, 5.807611845))
            ThreePointArc((-30, 5.807611845), (-29.619397663, 7.721029006), (-28.535533906, 9.343145751))
            Line((-28.535533906, 9.343145751), (-27.093145751, 10.785533906))
            ThreePointArc((-27.093145751, 10.785533906), (-25.471029006, 11.869397663), (-23.557611845, 12.25))
            Line((-23.557611845, 12.25), (-16.442388155, 12.25))
            ThreePointArc((-16.442388155, 12.25), (-14.528970994, 11.869397663), (-12.906854249, 10.785533906))
            Line((-12.906854249, 10.785533906), (-11.464466094, 9.343145751))
            ThreePointArc((-11.464466094, 9.343145751), (-10.380602337, 7.721029006), (-10, 5.807611845))
            Line((-10, 5.807611845), (-10, 4.5))
            ThreePointArc((-10, 4.5), (-10.732233047, 2.732233047), (-12.5, 2))
            ThreePointArc((-12.5, 2), (-12.853553391, 2.146446609), (-13, 2.5))
            Line((-13, 2.5), (-13, 4))
            ThreePointArc((-13, 4), (-13.146446609, 4.353553391), (-13.5, 4.5))
            Line((-13.5, 4.5), (-15, 4.5))
            ThreePointArc((-15, 4.5), (-15.707106781, 4.207106781), (-16, 3.5))
            Line((-16, 3.5), (-16, 1.5))
            ThreePointArc((-16, 1.5), (-15.560660172, 0.439339828), (-14.5, 0))
            Line((-14.5, 0), (-4, 0))
            ThreePointArc((-4, 0), (-1.171572875, 1.171572875), (0, 4))
            Line((0, 4), (0, 14.5))
            ThreePointArc((0, 14.5), (-0.439339828, 15.560660172), (-1.5, 16))
            Line((-1.5, 16), (-3.5, 16))
            ThreePointArc((-3.5, 16), (-4.207106781, 15.707106781), (-4.5, 15))
        make_face()
        with Locations((-20, 20)):
            Circle(ESQUISSE1_R, mode=Mode.SUBTRACT)
        with BuildLine():
            Line((-4, 1.8), (-7.7, 1.8))
            ThreePointArc((-7.7, 1.8), (-8.053553391, 1.946446609), (-8.2, 2.3))
            Line((-8.2, 2.3), (-8.2, 7.7))
            ThreePointArc((-8.2, 7.7), (-8.053553391, 8.053553391), (-7.7, 8.2))
            Line((-7.7, 8.2), (-2.3, 8.2))
            ThreePointArc((-2.3, 8.2), (-1.946446609, 8.053553391), (-1.8, 7.7))
            Line((-1.8, 7.7), (-1.8, 4))
            ThreePointArc((-1.8, 4), (-2.444365081, 2.444365081), (-4, 1.8))
        make_face(mode=Mode.SUBTRACT)
        with BuildLine():
            Line((-38.2, 4), (-38.2, 7.7))
            ThreePointArc((-38.2, 7.7), (-38.053553391, 8.053553391), (-37.7, 8.2))
            Line((-37.7, 8.2), (-32.3, 8.2))
            ThreePointArc((-32.3, 8.2), (-31.946446609, 8.053553391), (-31.8, 7.7))
            Line((-31.8, 7.7), (-31.8, 2.3))
            ThreePointArc((-31.8, 2.3), (-31.946446609, 1.946446609), (-32.3, 1.8))
            Line((-32.3, 1.8), (-36, 1.8))
            ThreePointArc((-36, 1.8), (-37.555634919, 2.444365081), (-38.2, 4))
        make_face(mode=Mode.SUBTRACT)
        with BuildLine():
            Line((-36, 38.2), (-32.3, 38.2))
            ThreePointArc((-32.3, 38.2), (-31.946446609, 38.053553391), (-31.8, 37.7))
            Line((-31.8, 37.7), (-31.8, 32.3))
            ThreePointArc((-31.8, 32.3), (-31.946446609, 31.946446609), (-32.3, 31.8))
            Line((-32.3, 31.8), (-37.7, 31.8))
            ThreePointArc((-37.7, 31.8), (-38.053553391, 31.946446609), (-38.2, 32.3))
            Line((-38.2, 32.3), (-38.2, 36))
            ThreePointArc((-38.2, 36), (-37.555634919, 37.555634919), (-36, 38.2))
        make_face(mode=Mode.SUBTRACT)
        with BuildLine():
            Line((-1.8, 36), (-1.8, 32.3))
            ThreePointArc((-1.8, 32.3), (-1.946446609, 31.946446609), (-2.3, 31.8))
            Line((-2.3, 31.8), (-7.7, 31.8))
            ThreePointArc((-7.7, 31.8), (-8.053553391, 31.946446609), (-8.2, 32.3))
            Line((-8.2, 32.3), (-8.2, 37.7))
            ThreePointArc((-8.2, 37.7), (-8.053553391, 38.053553391), (-7.7, 38.2))
            Line((-7.7, 38.2), (-4, 38.2))
            ThreePointArc((-4, 38.2), (-2.444365081, 37.555634919), (-1.8, 36))
        make_face(mode=Mode.SUBTRACT)
    extrude(amount=-BOSS_EXTRU_1_DEPTH)


solid = part.part
